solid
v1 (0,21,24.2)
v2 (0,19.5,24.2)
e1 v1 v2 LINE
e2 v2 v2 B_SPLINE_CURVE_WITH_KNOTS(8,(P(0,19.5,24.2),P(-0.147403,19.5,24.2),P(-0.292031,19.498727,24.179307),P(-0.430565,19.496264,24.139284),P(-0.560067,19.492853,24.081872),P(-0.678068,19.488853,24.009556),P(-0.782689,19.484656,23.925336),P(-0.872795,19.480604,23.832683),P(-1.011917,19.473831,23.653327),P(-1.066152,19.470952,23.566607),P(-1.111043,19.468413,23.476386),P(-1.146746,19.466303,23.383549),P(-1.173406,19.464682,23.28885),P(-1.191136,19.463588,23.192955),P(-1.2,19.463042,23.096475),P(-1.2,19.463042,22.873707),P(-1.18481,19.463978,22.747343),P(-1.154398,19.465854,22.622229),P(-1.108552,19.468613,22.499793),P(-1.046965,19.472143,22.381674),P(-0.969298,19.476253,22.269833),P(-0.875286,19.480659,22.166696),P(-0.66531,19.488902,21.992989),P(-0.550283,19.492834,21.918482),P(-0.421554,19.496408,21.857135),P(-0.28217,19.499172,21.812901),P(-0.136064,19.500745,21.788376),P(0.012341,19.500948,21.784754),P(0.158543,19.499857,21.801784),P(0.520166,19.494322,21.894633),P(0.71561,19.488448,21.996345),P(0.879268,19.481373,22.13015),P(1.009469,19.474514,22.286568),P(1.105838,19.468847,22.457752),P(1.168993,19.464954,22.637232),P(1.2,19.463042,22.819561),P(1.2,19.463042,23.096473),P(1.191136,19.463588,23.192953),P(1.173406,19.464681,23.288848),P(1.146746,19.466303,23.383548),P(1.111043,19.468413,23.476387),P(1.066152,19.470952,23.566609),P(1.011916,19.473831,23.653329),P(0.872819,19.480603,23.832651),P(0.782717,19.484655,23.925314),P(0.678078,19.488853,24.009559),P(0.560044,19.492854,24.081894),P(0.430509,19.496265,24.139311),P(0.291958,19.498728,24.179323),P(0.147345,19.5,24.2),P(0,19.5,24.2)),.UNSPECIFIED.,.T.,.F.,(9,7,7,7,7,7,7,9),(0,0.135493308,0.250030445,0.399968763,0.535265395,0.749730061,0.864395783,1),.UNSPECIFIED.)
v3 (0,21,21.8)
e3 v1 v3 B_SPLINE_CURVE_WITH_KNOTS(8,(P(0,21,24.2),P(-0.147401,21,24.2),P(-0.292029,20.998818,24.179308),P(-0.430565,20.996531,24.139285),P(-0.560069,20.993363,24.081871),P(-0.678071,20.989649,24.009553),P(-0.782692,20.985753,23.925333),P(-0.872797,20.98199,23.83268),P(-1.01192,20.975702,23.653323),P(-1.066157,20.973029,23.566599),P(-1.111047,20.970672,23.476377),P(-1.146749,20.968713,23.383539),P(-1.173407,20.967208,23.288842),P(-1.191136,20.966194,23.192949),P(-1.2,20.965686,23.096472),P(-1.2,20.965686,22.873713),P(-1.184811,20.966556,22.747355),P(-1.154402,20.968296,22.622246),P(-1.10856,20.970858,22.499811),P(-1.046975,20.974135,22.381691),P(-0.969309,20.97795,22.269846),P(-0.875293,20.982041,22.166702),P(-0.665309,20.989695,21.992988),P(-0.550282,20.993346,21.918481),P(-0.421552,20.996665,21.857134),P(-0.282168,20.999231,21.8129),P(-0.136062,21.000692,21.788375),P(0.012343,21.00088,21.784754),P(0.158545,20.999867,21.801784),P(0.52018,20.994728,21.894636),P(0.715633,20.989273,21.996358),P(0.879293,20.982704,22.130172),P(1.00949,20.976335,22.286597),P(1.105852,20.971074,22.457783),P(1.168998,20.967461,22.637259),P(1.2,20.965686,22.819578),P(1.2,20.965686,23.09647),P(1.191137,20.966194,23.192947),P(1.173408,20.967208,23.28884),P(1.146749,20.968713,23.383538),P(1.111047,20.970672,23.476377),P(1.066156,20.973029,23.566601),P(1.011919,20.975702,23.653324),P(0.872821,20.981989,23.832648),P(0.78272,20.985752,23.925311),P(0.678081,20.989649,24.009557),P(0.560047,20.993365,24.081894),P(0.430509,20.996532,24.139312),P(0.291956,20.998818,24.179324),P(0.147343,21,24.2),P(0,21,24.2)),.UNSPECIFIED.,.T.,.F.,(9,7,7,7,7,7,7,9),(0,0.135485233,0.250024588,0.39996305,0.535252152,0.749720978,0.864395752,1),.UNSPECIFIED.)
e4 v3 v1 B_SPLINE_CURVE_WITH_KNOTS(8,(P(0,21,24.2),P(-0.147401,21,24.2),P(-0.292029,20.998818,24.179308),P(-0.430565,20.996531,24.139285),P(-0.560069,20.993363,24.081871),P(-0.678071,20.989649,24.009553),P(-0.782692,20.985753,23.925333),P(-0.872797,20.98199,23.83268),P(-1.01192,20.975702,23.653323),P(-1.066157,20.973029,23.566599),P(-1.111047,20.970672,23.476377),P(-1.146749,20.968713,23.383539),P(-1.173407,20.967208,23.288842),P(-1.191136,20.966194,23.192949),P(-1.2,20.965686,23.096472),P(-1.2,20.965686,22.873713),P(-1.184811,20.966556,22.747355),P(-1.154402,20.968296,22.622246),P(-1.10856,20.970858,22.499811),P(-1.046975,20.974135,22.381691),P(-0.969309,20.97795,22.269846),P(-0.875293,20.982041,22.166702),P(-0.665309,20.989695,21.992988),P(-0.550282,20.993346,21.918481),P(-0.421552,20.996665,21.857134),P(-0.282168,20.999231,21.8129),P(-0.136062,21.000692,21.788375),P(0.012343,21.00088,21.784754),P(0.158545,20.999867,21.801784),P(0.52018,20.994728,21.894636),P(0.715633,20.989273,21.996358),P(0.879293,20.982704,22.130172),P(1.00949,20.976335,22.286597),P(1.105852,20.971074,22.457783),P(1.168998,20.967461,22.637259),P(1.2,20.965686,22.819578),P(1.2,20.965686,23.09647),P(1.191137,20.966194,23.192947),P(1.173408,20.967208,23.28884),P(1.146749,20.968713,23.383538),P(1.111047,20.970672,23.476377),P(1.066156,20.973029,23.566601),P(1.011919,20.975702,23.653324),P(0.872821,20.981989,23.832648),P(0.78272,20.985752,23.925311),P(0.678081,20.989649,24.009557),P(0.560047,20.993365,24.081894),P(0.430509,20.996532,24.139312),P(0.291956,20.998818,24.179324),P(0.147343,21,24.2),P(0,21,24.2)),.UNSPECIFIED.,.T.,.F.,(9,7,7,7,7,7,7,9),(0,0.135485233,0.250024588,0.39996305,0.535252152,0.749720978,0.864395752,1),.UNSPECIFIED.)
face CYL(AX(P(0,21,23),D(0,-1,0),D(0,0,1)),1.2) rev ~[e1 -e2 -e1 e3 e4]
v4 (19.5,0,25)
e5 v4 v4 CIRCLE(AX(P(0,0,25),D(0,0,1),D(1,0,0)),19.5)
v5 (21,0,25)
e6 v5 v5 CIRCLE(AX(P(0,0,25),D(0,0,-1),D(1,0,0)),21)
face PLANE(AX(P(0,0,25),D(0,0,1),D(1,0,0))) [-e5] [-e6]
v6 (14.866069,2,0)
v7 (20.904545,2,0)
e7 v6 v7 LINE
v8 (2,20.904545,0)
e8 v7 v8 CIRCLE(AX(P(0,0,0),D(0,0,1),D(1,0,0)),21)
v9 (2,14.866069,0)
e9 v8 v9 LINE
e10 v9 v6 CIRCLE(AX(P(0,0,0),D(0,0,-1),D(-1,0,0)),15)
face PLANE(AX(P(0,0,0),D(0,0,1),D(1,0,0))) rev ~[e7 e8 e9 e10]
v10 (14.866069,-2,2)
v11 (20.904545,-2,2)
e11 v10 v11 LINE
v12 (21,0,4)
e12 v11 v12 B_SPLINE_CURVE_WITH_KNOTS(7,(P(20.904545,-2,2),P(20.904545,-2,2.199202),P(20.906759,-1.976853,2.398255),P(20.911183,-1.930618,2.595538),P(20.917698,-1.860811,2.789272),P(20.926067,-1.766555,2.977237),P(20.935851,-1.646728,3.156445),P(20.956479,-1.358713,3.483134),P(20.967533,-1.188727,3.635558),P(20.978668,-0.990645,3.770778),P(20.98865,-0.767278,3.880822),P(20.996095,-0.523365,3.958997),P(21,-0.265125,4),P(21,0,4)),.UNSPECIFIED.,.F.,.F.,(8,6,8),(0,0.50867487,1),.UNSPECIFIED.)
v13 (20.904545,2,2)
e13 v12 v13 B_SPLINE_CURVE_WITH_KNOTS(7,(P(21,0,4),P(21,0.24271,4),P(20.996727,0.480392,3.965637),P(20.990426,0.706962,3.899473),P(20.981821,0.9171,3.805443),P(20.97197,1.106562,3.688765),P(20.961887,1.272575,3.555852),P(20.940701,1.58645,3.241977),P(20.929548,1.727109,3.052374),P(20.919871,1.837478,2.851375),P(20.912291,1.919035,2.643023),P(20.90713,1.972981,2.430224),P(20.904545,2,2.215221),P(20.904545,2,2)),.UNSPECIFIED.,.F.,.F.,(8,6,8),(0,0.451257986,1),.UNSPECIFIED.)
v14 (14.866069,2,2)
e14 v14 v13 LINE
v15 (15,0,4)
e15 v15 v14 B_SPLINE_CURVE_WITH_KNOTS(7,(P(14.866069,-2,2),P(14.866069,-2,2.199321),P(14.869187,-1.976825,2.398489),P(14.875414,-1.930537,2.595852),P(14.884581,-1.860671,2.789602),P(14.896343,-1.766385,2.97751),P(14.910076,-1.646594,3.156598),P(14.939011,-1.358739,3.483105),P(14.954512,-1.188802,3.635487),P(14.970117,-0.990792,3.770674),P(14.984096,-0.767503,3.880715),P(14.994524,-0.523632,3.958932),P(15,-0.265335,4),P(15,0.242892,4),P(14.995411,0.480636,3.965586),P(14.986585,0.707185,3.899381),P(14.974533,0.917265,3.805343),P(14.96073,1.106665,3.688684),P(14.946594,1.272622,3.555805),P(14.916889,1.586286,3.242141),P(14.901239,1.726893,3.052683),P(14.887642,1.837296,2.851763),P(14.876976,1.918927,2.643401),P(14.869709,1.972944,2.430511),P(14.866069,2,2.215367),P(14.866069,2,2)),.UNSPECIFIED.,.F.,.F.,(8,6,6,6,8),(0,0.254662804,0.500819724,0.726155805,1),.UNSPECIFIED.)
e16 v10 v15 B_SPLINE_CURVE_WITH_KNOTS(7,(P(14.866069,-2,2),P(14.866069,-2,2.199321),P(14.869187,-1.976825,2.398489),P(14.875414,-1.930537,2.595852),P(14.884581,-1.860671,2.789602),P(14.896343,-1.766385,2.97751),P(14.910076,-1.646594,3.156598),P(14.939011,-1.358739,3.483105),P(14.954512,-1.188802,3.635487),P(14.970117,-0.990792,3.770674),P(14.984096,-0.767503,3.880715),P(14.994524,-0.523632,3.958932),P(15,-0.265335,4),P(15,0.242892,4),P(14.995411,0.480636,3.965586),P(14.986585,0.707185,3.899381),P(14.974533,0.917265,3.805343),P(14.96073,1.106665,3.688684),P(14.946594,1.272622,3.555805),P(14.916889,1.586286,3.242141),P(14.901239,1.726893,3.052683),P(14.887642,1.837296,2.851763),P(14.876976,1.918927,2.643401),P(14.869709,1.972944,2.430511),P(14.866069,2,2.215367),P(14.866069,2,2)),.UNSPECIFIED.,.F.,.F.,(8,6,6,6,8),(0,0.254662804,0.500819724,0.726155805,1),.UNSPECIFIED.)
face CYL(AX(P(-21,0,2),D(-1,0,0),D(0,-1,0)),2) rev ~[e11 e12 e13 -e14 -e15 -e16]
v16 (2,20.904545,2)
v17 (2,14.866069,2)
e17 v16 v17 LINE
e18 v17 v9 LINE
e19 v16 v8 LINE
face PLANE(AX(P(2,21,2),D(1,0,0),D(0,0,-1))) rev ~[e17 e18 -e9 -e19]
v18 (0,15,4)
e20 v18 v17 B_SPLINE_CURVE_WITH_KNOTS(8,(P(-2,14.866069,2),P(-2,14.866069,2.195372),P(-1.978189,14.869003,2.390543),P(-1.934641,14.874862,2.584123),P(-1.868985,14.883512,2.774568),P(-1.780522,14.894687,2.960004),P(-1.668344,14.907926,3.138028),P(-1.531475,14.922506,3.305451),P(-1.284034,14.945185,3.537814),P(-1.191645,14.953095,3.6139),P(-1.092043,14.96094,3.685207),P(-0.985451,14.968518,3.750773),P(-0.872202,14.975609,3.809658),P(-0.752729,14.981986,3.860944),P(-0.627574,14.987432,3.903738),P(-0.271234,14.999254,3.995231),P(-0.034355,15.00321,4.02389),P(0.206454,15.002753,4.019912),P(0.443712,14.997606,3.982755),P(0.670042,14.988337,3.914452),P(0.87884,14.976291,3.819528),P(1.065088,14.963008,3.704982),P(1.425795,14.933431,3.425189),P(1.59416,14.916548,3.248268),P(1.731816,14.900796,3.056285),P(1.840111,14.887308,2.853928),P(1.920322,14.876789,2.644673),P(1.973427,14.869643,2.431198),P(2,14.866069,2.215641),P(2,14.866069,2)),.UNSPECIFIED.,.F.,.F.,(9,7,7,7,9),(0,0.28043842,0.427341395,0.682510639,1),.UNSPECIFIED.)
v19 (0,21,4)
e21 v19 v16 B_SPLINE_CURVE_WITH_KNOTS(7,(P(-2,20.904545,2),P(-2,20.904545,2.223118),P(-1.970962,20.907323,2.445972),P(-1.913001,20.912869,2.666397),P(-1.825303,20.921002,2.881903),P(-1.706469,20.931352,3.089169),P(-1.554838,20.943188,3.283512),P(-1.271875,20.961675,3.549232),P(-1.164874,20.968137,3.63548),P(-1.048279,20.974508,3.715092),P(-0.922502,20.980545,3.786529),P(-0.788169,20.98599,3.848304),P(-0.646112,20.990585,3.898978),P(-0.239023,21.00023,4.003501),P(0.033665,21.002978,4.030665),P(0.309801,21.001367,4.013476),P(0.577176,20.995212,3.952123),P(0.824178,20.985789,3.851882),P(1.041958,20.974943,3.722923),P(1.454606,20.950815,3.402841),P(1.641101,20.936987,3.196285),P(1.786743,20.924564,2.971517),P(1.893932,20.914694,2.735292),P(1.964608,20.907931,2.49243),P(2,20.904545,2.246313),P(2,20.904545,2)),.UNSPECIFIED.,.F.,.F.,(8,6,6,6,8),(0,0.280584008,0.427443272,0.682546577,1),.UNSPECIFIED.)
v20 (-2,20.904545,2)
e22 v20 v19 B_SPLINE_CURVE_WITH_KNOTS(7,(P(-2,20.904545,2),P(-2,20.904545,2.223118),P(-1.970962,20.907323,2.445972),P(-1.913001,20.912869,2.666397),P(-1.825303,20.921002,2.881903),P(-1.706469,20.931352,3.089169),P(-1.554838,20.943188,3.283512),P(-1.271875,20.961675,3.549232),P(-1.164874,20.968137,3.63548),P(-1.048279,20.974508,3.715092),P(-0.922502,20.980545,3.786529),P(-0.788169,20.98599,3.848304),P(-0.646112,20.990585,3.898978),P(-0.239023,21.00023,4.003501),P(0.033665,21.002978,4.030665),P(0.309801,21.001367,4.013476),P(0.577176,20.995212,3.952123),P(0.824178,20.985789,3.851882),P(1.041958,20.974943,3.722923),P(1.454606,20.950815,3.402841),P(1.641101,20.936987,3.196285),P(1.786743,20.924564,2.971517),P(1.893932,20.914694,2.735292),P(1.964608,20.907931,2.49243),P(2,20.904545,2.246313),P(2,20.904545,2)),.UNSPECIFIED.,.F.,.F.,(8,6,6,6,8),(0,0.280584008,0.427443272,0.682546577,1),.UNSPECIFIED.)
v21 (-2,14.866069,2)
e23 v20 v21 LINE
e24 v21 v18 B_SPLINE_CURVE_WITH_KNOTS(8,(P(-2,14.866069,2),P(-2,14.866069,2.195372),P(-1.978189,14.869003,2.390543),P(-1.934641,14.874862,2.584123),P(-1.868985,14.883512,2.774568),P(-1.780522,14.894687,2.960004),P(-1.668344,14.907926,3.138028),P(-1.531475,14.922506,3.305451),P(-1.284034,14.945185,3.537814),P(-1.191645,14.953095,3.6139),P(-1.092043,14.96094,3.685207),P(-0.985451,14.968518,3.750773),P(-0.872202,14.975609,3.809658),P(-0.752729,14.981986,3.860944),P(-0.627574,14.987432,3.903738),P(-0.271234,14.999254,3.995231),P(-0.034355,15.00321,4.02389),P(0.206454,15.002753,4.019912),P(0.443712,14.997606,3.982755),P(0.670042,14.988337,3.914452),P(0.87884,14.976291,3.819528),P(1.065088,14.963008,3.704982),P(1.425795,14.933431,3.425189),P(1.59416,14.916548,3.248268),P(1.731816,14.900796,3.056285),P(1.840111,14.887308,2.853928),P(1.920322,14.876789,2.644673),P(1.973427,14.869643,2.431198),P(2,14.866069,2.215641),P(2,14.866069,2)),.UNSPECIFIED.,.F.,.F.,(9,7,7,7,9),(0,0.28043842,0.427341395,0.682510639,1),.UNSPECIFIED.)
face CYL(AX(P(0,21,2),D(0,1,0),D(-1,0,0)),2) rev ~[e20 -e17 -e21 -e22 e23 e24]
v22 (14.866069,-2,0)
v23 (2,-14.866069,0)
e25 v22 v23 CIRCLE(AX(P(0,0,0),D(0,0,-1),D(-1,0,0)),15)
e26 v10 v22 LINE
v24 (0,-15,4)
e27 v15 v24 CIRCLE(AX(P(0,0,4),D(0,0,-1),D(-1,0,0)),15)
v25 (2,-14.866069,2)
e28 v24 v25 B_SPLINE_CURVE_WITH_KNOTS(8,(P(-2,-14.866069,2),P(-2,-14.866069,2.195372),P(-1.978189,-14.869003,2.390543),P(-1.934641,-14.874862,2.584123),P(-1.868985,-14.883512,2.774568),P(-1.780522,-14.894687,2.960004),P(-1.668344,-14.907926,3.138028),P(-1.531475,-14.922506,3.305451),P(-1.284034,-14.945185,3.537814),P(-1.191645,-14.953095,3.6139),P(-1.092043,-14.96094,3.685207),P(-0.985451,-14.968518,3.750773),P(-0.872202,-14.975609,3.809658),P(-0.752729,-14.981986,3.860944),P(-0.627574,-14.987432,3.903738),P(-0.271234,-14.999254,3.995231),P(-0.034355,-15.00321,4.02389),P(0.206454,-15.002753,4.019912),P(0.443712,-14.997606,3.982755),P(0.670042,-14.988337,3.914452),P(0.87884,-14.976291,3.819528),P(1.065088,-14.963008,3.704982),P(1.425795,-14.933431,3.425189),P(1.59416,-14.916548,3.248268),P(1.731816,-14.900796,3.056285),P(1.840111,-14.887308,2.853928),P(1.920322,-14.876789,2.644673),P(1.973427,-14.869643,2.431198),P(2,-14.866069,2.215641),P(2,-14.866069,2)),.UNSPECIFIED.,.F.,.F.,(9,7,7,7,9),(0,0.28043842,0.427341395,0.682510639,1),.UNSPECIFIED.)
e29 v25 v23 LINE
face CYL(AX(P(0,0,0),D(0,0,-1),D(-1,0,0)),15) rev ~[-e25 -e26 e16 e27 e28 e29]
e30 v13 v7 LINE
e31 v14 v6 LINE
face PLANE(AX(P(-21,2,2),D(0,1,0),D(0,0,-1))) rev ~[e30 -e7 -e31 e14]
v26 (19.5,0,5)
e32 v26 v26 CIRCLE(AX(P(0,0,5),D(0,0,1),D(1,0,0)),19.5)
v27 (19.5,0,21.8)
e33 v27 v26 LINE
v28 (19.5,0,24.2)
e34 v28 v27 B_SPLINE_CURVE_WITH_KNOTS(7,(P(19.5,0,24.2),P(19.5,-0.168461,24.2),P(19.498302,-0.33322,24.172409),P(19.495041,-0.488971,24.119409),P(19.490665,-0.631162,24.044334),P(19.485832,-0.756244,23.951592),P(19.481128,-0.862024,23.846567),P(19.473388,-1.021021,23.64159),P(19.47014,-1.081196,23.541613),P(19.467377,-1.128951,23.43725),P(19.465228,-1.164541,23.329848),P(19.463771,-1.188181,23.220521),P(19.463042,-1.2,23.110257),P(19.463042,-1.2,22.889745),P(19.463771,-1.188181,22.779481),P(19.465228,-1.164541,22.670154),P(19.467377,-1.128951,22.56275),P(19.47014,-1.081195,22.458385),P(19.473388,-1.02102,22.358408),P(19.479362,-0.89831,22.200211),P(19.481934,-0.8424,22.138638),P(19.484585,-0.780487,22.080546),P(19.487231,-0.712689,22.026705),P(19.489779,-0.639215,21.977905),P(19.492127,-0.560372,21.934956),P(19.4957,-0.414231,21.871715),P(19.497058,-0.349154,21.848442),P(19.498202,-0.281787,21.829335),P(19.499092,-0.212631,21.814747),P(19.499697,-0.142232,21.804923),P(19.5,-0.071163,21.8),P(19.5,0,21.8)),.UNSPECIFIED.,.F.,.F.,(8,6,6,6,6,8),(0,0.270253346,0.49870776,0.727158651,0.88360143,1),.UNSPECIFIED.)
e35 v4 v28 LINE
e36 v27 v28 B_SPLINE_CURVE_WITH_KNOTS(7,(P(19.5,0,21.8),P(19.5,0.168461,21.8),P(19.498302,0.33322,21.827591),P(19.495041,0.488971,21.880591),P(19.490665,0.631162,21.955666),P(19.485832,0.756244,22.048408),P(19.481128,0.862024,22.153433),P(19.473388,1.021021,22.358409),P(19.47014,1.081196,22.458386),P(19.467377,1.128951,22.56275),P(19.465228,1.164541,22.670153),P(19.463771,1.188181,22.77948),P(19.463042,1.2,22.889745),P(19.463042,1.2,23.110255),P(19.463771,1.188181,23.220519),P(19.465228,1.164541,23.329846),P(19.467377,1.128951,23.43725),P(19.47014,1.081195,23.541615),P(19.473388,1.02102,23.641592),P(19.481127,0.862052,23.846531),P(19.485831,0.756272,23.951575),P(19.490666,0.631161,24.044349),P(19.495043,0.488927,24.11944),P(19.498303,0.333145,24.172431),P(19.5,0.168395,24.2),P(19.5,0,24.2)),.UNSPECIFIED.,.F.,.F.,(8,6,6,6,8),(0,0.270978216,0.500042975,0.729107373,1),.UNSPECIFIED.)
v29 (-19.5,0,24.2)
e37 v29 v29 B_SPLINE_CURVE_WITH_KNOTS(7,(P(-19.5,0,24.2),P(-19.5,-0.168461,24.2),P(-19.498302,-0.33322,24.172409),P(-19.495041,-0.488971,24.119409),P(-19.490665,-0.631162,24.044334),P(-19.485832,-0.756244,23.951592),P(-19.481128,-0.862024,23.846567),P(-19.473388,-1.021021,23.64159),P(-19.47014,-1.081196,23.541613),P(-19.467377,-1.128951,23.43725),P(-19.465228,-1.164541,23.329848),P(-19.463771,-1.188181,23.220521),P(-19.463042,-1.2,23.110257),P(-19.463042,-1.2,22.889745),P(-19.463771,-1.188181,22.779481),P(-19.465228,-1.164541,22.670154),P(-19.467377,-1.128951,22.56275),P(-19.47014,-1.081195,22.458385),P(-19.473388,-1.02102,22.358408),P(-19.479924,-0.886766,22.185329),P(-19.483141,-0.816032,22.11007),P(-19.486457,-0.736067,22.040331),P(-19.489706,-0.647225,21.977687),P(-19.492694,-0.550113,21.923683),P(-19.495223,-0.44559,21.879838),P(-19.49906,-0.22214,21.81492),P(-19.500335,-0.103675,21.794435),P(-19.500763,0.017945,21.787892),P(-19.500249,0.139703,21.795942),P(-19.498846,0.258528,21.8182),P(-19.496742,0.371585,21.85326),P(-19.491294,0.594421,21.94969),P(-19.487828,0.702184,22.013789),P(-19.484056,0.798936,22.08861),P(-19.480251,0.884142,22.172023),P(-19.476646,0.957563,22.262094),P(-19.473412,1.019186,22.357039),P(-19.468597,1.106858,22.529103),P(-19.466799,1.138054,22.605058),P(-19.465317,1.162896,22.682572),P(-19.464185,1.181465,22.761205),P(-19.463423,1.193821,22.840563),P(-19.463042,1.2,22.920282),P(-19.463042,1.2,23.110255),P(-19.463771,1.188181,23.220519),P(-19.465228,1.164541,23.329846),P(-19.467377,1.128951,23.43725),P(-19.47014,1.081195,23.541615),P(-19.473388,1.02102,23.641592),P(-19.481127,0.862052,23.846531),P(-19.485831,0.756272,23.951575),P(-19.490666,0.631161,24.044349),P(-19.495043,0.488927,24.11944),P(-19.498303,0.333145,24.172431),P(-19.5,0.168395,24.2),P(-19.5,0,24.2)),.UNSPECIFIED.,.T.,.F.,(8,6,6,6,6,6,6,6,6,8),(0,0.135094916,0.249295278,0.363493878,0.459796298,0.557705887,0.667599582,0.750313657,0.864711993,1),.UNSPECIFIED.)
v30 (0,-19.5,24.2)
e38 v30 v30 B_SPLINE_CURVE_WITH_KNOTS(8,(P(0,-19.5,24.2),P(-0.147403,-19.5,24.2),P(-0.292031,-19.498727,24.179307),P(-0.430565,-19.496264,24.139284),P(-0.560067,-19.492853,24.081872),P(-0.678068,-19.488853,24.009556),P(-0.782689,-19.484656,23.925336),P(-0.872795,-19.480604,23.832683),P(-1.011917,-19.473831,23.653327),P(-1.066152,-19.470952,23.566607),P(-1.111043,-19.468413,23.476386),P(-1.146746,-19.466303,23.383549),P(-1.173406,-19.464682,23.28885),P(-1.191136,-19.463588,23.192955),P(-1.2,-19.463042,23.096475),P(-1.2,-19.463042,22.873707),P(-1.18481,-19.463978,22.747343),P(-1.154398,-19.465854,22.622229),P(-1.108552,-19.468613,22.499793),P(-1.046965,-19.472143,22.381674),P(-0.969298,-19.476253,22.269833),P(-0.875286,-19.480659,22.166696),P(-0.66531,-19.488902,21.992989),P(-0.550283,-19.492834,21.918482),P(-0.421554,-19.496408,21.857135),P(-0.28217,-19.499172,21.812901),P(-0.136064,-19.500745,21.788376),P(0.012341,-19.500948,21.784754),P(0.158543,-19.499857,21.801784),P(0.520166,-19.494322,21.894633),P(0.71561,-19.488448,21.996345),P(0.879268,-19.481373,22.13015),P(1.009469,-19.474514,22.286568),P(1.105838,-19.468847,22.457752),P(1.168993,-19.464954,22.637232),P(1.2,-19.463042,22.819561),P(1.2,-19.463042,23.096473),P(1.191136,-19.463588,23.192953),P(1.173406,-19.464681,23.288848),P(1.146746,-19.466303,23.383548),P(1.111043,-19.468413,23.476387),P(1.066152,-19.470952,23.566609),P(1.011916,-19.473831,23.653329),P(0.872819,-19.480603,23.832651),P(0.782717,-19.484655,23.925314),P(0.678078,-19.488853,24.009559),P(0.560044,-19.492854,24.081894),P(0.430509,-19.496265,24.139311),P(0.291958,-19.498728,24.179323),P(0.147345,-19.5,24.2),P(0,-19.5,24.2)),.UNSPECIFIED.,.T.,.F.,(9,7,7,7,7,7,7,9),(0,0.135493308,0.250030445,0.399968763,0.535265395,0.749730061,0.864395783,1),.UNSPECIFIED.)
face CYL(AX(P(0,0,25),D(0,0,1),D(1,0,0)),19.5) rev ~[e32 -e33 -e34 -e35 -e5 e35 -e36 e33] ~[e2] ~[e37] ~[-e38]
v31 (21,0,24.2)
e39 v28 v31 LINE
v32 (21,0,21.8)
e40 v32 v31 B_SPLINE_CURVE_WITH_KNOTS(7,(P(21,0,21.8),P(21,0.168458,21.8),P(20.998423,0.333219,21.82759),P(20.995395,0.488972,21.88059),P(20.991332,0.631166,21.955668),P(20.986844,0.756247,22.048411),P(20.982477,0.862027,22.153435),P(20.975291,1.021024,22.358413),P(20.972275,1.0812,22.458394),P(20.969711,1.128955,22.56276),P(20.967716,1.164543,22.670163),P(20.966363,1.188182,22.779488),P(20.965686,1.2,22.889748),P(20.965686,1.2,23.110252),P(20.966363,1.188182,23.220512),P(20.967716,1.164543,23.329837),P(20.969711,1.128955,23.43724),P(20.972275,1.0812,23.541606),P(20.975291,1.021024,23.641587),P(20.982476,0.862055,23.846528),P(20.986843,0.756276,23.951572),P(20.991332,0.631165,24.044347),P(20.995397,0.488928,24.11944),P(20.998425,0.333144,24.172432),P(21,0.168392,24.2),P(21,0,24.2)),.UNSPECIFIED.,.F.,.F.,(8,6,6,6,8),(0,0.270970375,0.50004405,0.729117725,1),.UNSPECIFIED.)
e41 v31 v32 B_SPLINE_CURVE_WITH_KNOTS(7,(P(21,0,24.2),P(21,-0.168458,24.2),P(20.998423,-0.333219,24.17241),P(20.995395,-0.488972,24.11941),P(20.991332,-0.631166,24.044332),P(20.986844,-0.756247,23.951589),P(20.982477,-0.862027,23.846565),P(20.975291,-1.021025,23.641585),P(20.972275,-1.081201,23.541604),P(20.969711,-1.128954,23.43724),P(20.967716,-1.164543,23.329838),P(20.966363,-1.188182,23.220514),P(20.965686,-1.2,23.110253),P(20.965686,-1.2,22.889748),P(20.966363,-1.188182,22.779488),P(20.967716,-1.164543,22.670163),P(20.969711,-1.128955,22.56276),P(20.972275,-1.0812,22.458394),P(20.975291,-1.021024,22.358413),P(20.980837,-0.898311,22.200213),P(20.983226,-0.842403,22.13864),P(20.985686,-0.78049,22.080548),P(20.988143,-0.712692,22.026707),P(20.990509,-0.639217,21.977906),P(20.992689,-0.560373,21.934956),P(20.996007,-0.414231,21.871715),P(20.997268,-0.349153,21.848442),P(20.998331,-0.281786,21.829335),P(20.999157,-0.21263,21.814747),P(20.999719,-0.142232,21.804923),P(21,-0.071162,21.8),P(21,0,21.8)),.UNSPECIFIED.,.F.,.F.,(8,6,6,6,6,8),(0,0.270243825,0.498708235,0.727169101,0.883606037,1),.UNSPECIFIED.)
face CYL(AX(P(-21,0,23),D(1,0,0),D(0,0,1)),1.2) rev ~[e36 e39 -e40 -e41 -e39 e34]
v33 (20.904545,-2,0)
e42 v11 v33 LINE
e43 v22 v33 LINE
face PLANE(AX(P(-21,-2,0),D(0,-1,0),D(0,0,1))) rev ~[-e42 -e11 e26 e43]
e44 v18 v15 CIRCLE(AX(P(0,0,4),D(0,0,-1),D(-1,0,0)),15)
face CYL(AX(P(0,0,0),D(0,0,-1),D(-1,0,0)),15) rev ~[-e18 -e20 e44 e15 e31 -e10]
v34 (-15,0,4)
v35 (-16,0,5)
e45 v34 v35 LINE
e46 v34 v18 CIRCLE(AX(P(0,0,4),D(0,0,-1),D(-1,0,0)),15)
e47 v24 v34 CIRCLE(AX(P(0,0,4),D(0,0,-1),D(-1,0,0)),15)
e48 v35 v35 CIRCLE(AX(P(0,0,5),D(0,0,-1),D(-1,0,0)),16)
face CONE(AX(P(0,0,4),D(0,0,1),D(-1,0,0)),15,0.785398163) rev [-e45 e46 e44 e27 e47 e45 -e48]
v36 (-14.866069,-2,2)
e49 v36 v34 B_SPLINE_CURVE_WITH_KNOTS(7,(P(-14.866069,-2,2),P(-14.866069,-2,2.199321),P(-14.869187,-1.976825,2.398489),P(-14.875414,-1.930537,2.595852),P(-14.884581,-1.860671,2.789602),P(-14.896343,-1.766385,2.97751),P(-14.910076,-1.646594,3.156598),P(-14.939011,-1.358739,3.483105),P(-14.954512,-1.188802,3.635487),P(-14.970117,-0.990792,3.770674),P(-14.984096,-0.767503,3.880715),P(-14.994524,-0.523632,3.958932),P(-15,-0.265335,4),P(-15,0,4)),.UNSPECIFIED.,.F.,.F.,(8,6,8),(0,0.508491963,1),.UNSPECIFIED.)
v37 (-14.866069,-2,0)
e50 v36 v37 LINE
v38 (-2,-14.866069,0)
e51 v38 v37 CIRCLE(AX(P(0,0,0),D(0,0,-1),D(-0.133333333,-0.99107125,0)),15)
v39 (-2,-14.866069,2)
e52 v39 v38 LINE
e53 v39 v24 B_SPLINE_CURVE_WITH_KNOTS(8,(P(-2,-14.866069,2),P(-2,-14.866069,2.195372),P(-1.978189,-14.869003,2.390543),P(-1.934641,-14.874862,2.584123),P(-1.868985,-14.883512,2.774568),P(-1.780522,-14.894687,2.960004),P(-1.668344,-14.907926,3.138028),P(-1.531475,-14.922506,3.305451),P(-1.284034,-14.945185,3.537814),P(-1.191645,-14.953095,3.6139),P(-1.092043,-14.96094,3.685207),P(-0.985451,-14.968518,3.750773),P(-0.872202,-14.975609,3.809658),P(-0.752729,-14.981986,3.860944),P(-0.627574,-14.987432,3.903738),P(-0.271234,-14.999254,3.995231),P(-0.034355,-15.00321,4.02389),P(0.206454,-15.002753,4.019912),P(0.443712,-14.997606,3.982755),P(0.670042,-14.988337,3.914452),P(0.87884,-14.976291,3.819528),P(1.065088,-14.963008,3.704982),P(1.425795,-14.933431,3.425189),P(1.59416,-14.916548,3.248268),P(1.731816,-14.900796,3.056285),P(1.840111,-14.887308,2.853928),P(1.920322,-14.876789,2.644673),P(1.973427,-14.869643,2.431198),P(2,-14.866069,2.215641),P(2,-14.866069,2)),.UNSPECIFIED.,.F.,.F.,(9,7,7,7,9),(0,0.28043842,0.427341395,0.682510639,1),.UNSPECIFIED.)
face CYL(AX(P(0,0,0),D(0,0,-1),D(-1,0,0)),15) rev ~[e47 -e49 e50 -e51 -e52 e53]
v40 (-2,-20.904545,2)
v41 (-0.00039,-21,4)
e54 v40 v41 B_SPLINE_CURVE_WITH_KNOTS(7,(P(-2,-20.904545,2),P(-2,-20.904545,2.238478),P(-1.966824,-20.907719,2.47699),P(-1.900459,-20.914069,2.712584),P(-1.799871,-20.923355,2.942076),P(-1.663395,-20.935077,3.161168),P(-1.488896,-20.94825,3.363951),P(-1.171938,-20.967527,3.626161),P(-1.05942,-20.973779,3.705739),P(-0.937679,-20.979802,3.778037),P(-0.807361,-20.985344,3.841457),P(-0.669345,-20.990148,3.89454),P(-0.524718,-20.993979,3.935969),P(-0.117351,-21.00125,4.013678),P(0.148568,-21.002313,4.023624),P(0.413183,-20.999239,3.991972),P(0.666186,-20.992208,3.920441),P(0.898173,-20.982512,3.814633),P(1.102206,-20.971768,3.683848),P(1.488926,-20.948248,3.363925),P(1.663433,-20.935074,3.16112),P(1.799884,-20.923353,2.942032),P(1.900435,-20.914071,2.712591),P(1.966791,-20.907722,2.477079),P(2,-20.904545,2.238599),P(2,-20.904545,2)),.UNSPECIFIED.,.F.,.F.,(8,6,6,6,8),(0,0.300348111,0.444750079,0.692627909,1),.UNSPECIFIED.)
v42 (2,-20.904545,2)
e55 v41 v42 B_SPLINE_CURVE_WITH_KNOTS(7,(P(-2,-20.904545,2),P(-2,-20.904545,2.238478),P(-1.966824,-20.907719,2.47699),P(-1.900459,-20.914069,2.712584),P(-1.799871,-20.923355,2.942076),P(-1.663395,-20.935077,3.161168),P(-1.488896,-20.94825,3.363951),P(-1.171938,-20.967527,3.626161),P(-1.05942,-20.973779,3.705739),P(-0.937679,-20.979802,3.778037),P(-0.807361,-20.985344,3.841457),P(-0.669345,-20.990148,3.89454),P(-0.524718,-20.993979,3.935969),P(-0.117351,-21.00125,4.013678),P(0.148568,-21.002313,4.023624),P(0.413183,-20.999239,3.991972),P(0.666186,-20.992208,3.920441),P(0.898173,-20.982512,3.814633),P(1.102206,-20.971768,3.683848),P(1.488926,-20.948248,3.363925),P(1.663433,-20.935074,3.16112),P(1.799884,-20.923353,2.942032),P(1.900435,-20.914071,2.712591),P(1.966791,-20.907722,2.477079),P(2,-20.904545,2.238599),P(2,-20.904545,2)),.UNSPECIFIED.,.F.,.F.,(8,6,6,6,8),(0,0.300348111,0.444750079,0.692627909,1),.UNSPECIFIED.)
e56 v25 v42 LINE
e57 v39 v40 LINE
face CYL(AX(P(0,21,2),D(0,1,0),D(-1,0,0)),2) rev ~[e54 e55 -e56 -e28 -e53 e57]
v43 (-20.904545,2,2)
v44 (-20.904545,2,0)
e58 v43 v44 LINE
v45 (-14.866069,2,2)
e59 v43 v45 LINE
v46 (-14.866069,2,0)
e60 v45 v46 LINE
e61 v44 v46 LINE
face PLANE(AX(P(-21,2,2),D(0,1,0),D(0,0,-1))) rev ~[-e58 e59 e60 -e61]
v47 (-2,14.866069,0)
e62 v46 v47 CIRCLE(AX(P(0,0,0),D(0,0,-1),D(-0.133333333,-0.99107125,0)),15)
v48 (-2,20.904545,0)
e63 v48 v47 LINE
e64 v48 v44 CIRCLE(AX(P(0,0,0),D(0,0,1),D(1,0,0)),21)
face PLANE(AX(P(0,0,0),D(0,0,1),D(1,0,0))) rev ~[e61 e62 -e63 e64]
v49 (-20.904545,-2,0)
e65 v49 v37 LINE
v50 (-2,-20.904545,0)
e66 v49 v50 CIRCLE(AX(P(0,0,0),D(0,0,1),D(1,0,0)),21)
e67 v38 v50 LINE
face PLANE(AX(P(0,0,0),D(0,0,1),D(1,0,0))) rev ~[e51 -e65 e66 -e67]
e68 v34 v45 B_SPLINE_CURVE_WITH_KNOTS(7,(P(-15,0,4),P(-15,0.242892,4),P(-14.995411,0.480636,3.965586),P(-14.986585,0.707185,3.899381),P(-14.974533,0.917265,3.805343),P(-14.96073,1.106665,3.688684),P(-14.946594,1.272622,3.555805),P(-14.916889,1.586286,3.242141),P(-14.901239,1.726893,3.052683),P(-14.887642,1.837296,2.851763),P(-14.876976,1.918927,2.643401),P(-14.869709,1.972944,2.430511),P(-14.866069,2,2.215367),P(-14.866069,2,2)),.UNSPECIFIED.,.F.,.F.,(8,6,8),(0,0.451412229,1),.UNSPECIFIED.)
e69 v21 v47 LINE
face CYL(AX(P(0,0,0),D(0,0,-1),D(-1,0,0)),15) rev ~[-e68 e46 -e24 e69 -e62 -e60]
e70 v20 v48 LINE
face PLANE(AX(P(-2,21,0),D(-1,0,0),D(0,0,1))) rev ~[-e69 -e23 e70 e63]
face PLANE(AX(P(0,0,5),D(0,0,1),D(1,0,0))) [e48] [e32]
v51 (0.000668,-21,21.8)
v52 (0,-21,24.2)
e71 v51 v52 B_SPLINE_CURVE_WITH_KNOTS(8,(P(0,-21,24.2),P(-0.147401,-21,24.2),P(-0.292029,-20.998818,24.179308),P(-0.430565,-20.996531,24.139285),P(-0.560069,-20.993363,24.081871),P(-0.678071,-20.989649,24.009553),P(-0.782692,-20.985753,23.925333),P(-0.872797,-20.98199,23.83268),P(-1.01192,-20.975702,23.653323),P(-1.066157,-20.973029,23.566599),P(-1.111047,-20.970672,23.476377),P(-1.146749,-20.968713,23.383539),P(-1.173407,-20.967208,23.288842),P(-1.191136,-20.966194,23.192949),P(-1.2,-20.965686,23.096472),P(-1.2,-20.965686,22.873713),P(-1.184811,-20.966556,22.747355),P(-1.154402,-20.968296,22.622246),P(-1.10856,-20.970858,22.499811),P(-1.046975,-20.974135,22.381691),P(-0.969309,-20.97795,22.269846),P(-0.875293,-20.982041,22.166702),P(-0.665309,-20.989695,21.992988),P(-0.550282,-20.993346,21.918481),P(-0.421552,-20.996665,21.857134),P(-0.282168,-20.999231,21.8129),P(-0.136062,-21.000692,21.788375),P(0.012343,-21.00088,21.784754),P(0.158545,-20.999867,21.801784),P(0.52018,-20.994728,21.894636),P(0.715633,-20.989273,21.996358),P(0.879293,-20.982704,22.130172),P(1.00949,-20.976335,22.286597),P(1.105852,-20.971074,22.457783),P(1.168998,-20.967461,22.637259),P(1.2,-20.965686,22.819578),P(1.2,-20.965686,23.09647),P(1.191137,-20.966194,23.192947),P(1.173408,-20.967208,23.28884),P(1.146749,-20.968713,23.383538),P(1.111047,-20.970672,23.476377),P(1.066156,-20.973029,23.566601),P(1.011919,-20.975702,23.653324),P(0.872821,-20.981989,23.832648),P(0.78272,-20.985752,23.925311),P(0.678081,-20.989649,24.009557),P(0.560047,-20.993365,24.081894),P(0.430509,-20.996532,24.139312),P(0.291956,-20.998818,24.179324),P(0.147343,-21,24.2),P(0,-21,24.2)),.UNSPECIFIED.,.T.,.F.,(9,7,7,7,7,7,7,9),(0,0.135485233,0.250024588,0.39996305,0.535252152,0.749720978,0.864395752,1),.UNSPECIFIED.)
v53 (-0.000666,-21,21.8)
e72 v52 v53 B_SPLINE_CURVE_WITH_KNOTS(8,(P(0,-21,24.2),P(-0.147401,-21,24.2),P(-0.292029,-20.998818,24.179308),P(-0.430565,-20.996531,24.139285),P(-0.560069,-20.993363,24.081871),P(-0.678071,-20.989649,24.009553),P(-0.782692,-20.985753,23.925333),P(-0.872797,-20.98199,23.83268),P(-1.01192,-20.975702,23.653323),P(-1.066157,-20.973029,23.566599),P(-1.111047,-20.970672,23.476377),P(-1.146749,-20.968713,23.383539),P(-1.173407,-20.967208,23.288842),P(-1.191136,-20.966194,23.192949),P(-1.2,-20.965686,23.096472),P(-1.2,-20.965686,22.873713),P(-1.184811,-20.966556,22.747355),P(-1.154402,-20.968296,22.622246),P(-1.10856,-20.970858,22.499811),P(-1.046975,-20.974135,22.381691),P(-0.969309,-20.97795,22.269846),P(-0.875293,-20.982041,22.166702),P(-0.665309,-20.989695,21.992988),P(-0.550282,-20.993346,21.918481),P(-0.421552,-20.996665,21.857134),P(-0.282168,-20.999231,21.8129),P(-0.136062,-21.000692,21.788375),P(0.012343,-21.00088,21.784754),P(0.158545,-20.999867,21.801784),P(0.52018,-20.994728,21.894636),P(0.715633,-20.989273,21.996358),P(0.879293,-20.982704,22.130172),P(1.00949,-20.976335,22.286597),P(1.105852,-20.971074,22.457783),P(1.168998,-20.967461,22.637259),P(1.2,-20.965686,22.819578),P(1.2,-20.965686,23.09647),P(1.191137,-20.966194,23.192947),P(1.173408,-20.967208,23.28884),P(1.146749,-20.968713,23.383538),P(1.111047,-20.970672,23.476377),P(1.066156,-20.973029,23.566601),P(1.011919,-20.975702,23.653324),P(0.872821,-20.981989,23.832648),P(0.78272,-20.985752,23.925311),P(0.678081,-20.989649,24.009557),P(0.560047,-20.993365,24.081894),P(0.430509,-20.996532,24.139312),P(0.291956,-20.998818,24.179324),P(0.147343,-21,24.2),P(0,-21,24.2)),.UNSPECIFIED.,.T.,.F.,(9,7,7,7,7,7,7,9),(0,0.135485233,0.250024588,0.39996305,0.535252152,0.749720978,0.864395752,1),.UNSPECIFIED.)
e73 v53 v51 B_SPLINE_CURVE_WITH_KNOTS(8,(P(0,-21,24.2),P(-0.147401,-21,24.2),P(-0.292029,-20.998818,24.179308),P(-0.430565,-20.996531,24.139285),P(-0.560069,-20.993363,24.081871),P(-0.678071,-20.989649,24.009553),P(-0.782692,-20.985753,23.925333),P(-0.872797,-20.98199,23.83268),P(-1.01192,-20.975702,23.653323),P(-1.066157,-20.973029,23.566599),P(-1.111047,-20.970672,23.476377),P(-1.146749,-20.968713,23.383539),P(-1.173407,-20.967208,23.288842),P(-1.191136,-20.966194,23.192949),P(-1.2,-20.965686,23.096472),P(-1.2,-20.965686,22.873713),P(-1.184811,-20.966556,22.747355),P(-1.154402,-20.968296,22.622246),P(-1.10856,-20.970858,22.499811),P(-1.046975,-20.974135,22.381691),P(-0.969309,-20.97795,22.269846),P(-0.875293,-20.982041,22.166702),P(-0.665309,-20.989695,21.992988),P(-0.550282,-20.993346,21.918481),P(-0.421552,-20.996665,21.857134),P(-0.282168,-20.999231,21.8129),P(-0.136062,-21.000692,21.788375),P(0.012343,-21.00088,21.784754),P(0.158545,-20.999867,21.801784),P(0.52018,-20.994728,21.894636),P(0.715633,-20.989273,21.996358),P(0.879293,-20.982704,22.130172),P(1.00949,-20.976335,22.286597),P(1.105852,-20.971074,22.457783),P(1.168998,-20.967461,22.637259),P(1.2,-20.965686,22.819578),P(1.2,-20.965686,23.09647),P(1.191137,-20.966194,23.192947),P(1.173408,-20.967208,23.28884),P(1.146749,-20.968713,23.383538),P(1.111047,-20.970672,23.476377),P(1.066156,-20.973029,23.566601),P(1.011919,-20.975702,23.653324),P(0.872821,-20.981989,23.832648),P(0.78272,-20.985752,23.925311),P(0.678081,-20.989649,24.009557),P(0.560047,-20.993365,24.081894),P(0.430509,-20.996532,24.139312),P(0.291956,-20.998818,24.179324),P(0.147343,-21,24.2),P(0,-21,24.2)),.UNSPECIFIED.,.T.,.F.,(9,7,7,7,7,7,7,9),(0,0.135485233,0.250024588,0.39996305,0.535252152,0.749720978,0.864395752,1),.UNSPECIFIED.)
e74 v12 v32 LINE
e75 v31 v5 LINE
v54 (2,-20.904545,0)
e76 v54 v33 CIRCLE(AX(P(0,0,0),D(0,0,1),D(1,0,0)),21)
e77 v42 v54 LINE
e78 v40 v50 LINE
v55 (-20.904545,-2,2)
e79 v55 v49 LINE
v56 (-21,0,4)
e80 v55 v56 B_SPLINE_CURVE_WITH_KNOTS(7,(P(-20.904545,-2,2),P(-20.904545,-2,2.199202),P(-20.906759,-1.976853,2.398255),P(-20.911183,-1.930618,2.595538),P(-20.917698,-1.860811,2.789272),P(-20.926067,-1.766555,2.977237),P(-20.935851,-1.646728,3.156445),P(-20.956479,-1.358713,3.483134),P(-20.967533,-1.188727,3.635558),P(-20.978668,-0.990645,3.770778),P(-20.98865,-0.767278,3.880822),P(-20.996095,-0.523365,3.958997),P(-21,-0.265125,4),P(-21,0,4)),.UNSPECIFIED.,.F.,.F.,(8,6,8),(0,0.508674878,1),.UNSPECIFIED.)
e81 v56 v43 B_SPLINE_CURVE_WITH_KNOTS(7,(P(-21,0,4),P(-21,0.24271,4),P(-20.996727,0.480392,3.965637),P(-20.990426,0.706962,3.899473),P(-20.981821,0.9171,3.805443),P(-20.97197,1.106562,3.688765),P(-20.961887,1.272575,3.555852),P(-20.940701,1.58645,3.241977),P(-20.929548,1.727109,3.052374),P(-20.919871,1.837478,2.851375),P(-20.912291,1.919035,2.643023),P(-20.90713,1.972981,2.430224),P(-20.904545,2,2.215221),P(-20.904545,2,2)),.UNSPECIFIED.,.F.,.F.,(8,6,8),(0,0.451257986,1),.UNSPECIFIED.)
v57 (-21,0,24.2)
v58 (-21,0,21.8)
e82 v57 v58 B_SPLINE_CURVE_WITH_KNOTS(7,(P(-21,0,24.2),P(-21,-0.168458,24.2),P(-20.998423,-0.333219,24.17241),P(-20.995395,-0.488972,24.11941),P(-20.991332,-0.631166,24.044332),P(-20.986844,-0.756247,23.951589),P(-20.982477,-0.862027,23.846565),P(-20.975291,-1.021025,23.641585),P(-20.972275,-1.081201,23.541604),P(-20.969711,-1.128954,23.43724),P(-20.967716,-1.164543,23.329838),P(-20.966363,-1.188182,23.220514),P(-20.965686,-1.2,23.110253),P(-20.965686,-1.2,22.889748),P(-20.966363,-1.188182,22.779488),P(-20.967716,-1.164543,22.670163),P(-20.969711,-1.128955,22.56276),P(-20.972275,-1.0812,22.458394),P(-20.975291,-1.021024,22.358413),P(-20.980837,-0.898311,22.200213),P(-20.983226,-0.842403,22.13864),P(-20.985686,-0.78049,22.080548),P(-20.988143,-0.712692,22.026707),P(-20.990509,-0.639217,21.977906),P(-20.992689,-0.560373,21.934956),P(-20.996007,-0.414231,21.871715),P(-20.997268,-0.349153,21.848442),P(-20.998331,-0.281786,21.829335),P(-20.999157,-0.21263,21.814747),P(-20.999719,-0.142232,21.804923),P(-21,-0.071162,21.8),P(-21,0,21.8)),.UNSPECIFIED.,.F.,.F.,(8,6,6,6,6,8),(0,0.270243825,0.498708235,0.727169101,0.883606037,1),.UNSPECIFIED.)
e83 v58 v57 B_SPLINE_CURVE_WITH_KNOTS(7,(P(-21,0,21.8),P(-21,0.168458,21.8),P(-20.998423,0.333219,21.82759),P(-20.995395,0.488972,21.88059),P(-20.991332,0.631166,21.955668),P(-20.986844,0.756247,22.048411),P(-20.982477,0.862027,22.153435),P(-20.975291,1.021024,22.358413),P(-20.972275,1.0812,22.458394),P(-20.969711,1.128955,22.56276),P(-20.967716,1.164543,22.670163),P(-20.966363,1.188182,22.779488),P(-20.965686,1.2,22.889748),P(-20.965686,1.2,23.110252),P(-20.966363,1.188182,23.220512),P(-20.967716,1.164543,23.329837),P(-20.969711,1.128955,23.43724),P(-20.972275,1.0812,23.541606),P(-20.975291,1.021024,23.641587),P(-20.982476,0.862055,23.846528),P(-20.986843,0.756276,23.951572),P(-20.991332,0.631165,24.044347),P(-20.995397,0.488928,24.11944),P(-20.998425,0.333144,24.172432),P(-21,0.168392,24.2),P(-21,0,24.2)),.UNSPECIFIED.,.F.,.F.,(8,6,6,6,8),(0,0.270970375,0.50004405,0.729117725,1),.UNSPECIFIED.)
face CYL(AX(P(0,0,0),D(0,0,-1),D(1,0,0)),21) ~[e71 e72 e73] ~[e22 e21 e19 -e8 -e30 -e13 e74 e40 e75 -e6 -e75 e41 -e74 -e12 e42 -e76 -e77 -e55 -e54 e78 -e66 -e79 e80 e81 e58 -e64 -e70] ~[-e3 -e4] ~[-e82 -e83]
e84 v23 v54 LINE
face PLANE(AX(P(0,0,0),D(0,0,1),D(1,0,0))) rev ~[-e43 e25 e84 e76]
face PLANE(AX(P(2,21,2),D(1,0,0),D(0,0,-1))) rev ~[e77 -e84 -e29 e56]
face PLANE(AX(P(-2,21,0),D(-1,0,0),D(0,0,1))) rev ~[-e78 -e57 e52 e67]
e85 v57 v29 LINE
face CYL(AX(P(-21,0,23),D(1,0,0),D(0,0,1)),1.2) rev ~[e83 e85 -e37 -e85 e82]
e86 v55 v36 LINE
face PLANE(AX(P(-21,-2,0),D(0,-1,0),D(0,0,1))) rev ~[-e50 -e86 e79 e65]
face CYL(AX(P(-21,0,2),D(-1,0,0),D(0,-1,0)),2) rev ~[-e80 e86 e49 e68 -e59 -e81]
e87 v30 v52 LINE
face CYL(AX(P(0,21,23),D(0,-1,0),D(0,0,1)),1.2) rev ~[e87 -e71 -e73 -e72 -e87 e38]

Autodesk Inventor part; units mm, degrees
ref_plane "YZ Plane" through (0, 0, 0) normal (1, 0, 0) x (0, 1, 0)
ref_plane "XY Plane" through (0, 0, 0) normal (0, 0, 1) x (1, 0, 0)
sketch "Skizze1" plane through (0, 0, 0) normal (0, 0, 1) x (1, 0, 0)
  line L0 (-29.4, 0) -> (29.4, 0) projected
  line L1 (0, -29.4) -> (0, 29.4) projected
  circle A0 centre (0, 0) radius 21
  dimension "d0" = 42
extrude "Extrusion1" add sketch "Skizze1" along normal blind 25
sketch "Skizze2" plane through (0, 0, 25) normal (0, 0, 1) x (1, 0, 0)
  circle A0 centre (0, 0) radius 21 projected
  circle A1 centre (0, 0) radius 19.5
  dimension "d3" = 39
extrude "Extrusion2" cut sketch "Skizze2" against normal blind 20 contours A1
sketch "Skizze3" plane through (0, 0, 0) normal (0, 0, -1) x (-1, 0, 0)
  circle A0 centre (0, 0) radius 21 projected
  circle A1 centre (0, 0) radius 15
  dimension "d6" = 30
extrude "Extrusion3" cut sketch "Skizze3" against normal through all contours A1
ref_plane "Arbeitsebene1" through (0, 21, 0) normal (0, 1, 0) x (-1, 0, 0)
sketch "Skizze5" plane through (0, 21, 0) normal (0, 1, 0) x (-1, 0, 0)
  line L0 (0, -5) -> (0, 30) projected
  line L1 (29.4, 0) -> (-29.4, 0) projected
  line L2 (21, 25) -> (-21, 25) projected
  point P0 (0, 0)
  point P1 (0, 23)
  dimension "d13" = 2
hole "Bohrung1" at (0, 21, 23) direction (0, -1, 0) diameter 2.4 end through all
pattern_circular "Runde Anordnung1" count 4 over 360 about axis through (0, 0, 0) along (0, 0, 1) of "Bohrung1"
chamfer "Fase1" distance 1 angle 45 1 edges at (15, 0, 5)
sketch "Skizze6" plane through (0, 21, 0) normal (0, 1, 0) x (-1, 0, 0)
  line L0 (29.4, 0) -> (-29.4, 0) projected
  line L1 (0, -5) -> (0, 30) projected
  line L2 (-2, 0) -> (2, 0)
  line L3 (2, 0) -> (2, 2)
  line L4 (0, 4) -> (0, 4)
  line L5 (-2, 2) -> (-2, 0)
  arc A0 (2, 2) -> (0, 4) centre (0, 2) ccw
  arc A1 (0, 4) -> (-2, 2) centre (0, 2) ccw
  point P0 (0, 0)
  dimension "d27" = 4
  dimension "d28" = 4
  dimension "d29" = 2
extrude "Extrusion6" cut sketch "Skizze6" against normal through all
pattern_circular "Runde Anordnung2" count 4 over 360 about axis through (0, 0, 0) along (0, 0, 1) of "Extrusion6"
properties part number "13_1087_029"
